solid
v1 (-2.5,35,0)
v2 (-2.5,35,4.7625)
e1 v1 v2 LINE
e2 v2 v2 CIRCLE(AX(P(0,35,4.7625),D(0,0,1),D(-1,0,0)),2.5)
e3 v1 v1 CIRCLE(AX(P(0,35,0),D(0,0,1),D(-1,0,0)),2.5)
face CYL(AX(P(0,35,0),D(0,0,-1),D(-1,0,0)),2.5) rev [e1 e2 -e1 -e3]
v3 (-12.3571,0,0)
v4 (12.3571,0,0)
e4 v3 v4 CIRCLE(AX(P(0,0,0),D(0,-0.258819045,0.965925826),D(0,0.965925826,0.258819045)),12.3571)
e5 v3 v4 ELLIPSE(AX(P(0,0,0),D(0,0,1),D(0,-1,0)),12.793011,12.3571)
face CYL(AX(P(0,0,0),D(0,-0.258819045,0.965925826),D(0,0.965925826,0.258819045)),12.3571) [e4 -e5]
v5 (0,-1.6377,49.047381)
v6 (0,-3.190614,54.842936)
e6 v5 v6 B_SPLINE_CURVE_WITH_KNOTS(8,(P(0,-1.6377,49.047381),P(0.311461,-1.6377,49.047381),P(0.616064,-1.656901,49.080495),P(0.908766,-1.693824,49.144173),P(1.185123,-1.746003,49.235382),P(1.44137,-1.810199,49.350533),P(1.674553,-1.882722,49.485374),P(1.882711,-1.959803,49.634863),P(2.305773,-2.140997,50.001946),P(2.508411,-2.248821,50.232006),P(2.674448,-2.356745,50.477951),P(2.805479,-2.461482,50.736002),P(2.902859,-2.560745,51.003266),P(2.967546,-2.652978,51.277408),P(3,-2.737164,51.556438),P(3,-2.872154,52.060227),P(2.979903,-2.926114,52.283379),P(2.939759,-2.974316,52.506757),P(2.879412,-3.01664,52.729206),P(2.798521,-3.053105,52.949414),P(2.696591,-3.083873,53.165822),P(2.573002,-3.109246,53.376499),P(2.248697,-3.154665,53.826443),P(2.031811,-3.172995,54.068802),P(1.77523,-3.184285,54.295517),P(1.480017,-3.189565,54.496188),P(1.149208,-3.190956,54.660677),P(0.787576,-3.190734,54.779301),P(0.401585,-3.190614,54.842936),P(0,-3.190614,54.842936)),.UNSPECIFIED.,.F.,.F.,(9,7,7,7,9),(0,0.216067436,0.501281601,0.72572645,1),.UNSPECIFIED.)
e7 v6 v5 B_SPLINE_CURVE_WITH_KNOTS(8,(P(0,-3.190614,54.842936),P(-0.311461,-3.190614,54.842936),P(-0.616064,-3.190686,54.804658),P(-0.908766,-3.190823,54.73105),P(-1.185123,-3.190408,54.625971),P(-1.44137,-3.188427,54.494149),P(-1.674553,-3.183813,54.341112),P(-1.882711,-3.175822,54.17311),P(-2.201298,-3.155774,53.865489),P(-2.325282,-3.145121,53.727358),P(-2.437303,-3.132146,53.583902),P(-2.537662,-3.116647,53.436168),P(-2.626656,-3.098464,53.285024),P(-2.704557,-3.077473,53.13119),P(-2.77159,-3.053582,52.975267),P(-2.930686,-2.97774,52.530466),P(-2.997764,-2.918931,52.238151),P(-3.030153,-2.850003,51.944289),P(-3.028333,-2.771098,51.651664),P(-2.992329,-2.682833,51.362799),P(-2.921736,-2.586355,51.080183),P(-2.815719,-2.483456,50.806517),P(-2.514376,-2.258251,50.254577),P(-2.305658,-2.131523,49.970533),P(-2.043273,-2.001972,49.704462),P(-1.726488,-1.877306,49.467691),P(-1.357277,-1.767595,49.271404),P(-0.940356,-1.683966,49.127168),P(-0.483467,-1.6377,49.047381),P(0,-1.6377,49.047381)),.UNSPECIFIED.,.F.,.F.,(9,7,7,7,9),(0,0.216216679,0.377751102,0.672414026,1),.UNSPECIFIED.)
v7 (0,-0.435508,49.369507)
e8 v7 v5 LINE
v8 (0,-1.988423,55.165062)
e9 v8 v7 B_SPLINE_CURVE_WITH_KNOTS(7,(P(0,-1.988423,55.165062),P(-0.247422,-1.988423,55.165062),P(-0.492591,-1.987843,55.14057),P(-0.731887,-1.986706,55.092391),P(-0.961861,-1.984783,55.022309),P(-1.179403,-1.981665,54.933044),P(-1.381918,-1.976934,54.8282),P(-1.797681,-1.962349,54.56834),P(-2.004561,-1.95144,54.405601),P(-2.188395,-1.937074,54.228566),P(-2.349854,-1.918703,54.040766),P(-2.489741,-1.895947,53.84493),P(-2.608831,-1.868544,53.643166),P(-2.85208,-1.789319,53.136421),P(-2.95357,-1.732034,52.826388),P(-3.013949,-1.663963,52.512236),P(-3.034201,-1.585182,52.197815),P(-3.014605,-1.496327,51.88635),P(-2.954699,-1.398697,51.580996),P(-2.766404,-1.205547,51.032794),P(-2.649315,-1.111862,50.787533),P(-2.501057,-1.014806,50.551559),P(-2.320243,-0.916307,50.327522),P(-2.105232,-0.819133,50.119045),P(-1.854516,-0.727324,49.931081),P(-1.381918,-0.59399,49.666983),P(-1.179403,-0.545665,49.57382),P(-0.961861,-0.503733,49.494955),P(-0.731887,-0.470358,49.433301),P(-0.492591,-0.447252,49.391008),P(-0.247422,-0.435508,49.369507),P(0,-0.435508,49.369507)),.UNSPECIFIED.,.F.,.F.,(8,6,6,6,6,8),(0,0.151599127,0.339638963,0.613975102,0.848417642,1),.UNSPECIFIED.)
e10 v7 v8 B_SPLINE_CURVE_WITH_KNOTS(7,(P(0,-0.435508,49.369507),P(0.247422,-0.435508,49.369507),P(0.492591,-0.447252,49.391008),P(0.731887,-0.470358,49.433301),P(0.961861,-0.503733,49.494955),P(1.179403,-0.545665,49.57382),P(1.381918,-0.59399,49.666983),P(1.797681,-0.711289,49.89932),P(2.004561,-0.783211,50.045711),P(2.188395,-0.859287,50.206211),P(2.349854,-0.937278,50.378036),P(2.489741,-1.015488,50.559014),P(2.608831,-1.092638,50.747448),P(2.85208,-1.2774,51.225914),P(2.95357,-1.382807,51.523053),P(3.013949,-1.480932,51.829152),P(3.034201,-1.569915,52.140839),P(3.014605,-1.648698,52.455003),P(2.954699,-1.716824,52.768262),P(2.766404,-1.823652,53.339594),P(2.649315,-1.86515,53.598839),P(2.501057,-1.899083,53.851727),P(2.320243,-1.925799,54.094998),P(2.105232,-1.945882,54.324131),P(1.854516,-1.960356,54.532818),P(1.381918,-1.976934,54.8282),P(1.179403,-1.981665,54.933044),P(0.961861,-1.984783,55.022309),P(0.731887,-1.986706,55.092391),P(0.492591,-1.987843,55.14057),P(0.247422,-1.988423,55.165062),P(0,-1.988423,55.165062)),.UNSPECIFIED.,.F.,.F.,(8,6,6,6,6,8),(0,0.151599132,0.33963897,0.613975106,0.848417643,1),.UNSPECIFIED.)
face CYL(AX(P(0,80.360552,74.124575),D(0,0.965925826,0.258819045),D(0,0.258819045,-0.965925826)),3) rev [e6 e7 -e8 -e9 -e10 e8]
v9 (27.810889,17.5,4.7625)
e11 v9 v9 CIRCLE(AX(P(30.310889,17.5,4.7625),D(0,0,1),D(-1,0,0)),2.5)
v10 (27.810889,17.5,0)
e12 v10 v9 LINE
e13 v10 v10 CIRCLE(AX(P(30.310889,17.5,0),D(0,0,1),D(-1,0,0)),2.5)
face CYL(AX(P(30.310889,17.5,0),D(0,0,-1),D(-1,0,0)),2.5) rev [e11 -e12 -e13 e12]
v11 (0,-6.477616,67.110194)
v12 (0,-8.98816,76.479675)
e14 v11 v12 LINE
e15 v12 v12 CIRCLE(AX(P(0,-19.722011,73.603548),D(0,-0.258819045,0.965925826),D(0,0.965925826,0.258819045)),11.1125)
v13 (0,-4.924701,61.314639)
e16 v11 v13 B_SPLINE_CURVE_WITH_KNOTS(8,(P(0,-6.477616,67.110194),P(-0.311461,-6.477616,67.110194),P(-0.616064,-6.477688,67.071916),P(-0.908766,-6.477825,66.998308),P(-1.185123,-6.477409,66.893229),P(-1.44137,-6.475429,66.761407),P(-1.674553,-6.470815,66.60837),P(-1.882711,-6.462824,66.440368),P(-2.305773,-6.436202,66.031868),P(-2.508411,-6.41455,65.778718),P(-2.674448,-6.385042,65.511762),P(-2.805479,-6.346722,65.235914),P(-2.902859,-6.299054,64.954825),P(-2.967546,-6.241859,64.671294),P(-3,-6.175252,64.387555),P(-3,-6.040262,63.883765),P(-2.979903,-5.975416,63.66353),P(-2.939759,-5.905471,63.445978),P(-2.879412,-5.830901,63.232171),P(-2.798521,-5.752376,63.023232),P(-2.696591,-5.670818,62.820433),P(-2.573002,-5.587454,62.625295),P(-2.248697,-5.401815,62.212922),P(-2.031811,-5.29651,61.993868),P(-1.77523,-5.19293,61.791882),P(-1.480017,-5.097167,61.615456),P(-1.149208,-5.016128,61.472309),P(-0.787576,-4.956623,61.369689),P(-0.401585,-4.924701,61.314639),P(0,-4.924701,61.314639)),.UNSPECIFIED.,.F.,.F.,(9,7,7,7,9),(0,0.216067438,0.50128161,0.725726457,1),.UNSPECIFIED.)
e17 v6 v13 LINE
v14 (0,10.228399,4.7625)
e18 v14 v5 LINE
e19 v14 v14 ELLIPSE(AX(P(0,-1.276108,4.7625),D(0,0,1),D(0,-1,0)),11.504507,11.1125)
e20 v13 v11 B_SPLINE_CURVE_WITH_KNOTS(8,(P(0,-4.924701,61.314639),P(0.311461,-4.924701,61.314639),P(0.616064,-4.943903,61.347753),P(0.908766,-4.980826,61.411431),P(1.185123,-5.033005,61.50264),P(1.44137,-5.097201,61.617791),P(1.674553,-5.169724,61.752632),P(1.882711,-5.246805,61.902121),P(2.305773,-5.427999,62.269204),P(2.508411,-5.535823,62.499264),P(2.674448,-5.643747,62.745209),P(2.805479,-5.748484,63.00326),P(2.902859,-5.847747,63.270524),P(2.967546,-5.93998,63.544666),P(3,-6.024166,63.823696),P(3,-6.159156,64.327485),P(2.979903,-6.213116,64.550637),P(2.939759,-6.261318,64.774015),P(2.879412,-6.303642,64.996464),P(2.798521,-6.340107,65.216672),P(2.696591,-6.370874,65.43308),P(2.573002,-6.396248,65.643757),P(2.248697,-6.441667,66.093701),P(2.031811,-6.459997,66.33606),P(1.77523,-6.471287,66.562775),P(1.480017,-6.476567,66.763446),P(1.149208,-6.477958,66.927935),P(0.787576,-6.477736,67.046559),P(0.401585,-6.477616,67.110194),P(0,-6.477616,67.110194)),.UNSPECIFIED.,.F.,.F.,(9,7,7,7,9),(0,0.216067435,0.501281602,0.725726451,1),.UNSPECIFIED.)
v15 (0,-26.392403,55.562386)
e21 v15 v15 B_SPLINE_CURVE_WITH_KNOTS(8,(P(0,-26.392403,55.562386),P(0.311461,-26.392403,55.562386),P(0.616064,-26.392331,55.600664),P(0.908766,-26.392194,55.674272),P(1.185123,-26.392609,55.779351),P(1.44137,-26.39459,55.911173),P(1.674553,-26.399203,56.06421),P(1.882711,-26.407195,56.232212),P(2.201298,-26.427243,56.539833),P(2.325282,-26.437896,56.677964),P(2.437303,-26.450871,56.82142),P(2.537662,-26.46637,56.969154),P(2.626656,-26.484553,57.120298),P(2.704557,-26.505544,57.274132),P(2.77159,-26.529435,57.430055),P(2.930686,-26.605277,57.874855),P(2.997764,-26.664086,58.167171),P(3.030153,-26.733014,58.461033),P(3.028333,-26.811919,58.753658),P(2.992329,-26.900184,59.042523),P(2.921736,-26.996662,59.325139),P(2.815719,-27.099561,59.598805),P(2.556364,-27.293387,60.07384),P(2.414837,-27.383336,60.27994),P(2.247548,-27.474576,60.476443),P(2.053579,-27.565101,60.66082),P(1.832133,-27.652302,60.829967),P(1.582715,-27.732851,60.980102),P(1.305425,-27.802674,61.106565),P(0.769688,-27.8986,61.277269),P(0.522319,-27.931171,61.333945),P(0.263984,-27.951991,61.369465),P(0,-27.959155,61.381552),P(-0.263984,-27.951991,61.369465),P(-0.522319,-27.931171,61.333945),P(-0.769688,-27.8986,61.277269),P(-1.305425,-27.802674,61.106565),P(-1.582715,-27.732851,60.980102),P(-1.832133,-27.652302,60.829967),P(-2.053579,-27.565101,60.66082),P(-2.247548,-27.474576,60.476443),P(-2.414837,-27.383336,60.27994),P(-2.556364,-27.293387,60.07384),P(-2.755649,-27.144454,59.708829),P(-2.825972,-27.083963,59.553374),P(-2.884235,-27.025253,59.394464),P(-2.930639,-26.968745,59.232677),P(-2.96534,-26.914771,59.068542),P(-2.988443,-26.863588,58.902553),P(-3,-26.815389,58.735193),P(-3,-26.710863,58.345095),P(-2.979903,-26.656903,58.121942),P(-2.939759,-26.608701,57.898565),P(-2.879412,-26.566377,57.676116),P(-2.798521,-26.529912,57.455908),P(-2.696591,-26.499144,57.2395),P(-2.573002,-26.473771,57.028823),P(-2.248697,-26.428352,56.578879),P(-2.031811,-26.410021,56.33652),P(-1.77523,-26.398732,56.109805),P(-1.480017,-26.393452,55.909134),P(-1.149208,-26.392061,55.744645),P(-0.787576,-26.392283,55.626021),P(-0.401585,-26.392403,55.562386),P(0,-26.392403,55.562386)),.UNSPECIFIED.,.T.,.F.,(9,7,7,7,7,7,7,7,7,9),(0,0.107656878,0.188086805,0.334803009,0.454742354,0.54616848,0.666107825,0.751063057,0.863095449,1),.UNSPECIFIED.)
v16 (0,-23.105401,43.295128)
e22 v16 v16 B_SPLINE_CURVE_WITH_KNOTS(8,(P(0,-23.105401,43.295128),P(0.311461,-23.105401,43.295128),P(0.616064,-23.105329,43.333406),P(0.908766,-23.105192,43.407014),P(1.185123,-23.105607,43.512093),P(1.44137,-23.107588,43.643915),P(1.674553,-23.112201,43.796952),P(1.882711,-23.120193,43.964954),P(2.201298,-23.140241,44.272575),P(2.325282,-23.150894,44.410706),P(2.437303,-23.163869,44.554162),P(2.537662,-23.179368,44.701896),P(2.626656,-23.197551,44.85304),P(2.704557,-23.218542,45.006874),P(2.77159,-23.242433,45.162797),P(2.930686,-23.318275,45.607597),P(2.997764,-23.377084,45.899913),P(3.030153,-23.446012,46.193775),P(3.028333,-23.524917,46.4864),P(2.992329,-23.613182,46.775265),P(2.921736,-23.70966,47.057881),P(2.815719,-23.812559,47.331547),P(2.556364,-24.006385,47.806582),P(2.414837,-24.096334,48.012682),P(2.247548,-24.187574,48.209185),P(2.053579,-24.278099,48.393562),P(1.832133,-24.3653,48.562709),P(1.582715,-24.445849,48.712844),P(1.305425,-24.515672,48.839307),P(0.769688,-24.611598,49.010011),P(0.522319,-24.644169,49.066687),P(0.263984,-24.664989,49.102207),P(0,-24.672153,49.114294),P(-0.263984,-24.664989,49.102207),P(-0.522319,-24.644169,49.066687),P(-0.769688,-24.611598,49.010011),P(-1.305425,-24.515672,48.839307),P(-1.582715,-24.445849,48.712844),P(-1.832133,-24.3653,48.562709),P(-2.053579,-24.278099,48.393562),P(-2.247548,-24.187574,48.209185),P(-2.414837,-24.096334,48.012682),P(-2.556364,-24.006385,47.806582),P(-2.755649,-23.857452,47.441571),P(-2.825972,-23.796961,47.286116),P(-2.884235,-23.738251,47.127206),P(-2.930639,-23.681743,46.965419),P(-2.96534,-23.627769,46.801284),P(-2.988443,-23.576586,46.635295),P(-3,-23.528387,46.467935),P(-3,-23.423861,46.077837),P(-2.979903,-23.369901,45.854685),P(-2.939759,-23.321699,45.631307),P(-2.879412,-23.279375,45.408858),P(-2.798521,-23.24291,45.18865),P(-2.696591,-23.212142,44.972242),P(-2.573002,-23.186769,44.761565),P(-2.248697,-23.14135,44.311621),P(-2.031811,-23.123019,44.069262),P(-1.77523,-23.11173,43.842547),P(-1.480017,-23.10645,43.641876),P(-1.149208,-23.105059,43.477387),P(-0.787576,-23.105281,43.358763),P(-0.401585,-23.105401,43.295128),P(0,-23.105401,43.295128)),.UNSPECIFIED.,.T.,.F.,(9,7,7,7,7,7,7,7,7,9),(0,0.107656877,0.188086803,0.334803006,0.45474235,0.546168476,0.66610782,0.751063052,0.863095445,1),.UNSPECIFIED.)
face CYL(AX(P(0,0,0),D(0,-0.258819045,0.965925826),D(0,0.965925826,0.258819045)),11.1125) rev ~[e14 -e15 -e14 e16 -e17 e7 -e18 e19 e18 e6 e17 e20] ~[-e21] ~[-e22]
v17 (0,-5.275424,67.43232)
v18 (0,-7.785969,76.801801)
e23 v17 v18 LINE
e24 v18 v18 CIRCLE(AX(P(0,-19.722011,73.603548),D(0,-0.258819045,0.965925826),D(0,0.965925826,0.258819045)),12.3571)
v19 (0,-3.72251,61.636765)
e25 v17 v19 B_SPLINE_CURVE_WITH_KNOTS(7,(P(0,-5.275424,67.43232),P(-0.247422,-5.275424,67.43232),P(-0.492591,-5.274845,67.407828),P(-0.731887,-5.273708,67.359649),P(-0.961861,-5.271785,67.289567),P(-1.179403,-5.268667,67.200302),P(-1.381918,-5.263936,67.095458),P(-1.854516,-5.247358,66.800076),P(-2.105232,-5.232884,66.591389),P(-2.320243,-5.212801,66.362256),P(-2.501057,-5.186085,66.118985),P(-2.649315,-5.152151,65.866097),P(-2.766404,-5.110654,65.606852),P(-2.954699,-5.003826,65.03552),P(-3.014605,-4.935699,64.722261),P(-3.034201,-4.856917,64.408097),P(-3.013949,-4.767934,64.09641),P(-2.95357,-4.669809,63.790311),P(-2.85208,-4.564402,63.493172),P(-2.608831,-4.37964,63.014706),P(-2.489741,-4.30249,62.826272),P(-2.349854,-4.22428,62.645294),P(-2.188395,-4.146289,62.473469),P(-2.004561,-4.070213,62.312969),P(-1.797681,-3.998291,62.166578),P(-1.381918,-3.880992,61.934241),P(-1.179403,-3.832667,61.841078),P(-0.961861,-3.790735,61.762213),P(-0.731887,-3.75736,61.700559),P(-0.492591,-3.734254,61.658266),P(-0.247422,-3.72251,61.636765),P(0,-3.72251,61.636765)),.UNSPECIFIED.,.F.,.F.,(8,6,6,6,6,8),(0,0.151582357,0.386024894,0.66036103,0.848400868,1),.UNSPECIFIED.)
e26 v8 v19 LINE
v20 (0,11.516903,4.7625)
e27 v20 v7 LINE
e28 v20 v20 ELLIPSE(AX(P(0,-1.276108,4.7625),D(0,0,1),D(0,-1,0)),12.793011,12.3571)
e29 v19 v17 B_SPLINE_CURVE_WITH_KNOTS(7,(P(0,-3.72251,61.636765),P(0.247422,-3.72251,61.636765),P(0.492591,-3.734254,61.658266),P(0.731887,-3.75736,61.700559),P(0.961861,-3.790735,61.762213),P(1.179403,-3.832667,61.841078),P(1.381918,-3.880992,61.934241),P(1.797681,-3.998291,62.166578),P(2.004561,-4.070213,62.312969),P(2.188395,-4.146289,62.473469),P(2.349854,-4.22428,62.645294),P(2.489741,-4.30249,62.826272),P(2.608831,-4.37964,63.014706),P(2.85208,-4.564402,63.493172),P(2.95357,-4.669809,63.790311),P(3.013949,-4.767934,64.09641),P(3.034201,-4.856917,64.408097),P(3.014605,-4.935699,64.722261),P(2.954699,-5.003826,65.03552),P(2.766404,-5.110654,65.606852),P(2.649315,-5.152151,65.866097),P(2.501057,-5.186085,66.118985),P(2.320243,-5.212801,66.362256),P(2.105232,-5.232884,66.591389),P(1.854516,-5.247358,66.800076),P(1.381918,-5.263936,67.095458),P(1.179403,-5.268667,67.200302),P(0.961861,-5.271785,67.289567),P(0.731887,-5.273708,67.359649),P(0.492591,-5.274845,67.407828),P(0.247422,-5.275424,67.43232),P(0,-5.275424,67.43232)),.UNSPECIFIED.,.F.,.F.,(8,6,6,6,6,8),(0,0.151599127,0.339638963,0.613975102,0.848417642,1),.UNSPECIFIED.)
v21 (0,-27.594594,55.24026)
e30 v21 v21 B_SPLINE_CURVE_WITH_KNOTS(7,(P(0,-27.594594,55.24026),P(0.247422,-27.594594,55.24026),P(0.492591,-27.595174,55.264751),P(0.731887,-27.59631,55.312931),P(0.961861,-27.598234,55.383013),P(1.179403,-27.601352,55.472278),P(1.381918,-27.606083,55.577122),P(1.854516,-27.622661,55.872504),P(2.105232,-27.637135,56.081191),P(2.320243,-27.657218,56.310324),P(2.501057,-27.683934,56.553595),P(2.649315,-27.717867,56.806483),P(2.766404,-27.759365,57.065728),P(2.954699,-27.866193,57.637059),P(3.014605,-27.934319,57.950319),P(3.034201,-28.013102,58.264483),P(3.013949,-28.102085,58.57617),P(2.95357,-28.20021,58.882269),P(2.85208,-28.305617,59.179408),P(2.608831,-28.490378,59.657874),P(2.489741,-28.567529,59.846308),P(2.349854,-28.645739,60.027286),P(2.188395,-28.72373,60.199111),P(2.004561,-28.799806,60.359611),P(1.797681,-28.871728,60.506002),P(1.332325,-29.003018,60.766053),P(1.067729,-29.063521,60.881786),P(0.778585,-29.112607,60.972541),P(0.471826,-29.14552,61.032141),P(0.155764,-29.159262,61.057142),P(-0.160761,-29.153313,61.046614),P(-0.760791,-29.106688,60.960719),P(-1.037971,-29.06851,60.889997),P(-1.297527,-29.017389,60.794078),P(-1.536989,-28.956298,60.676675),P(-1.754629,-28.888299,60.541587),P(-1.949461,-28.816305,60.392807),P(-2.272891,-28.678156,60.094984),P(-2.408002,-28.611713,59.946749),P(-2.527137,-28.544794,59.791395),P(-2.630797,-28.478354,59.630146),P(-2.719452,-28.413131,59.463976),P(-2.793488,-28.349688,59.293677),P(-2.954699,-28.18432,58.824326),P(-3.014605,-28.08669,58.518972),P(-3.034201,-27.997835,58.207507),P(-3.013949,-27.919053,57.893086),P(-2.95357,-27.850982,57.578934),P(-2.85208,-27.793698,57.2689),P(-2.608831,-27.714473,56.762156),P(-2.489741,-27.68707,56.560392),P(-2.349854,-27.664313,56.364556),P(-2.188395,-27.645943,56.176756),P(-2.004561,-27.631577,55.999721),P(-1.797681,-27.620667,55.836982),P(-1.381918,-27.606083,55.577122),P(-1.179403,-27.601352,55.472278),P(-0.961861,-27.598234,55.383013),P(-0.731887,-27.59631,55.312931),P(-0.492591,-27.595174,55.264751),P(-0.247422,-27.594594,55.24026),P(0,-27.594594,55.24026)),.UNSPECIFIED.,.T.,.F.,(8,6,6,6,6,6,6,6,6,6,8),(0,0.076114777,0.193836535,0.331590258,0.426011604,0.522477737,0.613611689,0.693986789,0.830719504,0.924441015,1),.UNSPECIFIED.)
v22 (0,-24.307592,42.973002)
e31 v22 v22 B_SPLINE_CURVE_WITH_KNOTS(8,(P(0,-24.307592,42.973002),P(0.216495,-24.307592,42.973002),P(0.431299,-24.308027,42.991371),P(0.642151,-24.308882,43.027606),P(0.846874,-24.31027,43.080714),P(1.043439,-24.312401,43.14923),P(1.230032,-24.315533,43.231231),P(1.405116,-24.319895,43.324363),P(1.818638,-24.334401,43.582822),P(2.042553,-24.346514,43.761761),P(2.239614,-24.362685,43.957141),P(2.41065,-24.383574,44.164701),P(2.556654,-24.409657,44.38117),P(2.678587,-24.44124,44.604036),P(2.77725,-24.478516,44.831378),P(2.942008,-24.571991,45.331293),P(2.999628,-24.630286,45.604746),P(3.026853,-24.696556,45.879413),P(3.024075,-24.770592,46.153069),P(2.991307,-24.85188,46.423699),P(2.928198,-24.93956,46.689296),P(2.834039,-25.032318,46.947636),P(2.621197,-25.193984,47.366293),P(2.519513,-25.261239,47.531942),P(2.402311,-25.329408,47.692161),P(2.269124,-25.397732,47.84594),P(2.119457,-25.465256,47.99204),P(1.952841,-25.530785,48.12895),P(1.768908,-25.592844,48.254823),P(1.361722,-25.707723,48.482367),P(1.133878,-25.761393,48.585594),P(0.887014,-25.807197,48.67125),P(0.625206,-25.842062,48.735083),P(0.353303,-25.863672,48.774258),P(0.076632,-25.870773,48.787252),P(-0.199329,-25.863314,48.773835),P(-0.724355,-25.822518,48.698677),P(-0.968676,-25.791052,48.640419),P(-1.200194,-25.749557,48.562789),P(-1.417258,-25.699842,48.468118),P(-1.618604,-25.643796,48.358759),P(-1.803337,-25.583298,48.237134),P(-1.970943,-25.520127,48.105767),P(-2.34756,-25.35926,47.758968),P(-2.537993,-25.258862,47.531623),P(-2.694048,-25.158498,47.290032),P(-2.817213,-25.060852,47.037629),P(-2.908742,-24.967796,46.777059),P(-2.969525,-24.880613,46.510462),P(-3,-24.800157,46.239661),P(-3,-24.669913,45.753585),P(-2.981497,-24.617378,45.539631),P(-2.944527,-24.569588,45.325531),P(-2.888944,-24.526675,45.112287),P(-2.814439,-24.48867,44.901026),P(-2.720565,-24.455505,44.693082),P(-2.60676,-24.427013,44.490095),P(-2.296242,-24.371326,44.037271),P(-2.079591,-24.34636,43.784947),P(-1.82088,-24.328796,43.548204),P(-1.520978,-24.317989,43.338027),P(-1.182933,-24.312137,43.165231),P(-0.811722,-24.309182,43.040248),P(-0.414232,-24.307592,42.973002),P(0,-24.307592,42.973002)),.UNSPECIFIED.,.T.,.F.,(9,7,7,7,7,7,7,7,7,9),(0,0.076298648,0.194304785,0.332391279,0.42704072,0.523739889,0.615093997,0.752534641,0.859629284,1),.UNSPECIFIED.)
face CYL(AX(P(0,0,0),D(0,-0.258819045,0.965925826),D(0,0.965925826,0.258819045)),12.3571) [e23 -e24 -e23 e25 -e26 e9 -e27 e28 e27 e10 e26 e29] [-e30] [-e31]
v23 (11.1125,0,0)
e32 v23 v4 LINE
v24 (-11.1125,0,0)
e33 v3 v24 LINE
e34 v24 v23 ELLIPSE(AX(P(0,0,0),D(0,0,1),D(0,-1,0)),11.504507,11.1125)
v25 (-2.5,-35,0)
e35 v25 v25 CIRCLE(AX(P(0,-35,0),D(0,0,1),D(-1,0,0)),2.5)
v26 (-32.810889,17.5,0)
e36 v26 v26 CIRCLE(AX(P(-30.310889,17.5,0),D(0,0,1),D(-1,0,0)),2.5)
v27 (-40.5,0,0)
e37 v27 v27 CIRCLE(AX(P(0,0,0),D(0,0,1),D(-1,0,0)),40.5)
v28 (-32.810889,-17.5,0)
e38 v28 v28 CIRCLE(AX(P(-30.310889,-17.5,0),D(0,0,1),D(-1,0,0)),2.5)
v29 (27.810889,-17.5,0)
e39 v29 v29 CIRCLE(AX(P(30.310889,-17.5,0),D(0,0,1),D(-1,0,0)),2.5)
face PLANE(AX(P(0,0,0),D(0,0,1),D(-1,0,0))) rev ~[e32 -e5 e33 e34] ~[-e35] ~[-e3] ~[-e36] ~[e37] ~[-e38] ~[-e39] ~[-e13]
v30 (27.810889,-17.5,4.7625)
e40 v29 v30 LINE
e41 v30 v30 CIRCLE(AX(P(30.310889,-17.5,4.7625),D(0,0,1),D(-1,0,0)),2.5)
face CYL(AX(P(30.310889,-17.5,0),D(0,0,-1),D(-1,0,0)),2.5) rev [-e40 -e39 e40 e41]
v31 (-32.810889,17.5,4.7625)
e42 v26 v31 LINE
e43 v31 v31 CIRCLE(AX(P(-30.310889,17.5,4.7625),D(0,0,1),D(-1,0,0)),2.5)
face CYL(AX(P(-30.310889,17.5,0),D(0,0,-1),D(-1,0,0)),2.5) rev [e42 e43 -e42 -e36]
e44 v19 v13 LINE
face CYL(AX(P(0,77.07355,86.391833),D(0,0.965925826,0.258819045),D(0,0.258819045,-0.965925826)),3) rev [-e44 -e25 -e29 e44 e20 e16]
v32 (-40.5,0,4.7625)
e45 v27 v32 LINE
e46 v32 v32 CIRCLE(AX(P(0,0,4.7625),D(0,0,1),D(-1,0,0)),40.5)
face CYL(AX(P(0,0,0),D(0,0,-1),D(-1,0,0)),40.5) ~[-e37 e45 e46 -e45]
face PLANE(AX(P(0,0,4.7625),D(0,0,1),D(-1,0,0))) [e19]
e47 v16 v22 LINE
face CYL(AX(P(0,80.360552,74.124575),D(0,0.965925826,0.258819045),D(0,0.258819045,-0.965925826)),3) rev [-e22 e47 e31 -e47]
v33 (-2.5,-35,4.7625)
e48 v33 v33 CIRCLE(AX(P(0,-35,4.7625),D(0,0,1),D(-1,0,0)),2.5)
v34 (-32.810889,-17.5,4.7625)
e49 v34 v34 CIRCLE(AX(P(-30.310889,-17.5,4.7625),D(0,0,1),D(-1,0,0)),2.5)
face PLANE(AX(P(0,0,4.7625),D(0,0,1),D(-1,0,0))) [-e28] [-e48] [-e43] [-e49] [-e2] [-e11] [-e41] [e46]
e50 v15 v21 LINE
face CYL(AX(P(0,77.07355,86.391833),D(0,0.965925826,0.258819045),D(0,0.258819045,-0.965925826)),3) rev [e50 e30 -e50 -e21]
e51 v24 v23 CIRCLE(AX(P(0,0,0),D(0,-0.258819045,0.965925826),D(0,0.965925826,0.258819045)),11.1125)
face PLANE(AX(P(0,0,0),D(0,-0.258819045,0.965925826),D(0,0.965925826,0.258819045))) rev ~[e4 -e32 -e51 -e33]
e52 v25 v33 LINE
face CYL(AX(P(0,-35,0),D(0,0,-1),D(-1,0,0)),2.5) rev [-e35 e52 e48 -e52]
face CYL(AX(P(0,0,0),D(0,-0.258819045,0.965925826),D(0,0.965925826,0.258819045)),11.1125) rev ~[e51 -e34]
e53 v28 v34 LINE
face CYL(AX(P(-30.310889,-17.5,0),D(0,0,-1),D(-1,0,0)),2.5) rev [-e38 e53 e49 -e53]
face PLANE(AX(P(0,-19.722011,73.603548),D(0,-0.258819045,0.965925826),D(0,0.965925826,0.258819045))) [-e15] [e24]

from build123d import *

# Parameters (mm, degrees)
SKETCH1_R               = 40.5
SKETCH1_R_2             = 2.5
BOSS_EXTRUDE1_DEPTH     = 4.7625
SWEEP_THIN1_PROFILE_R   = 12.3571
SWEEP_THIN1_PROFILE_R_2 = 11.1125
CUT_EXTRUDE2_DEPTH      = 96.807184511
CUT_EXTRUDE2_DEPTH_BACK = 96.807184511
SKETCH18_R              = 3


with BuildPart() as part:
    # Sketch1 → Boss-Extrude1 (new body)
    with BuildSketch(Plane.XY):
        with Locations(Location((0, 0, 0), (0, 0, 180))):
            Circle(SKETCH1_R)
        with Locations(Location((-30.310889132, -17.5, 0), (0, 0, 180))):
            Circle(SKETCH1_R_2, mode=Mode.SUBTRACT)
        with Locations(Location((0, -35, 0), (0, 0, 180))):
            Circle(SKETCH1_R_2, mode=Mode.SUBTRACT)
        with Locations(Location((30.310889132, -17.5, 0), (0, 0, 180))):
            Circle(SKETCH1_R_2, mode=Mode.SUBTRACT)
        with Locations(Location((30.310889132, 17.5, 0), (0, 0, 180))):
            Circle(SKETCH1_R_2, mode=Mode.SUBTRACT)
        with Locations(Location((0, 35, 0), (0, 0, 180))):
            Circle(SKETCH1_R_2, mode=Mode.SUBTRACT)
        with Locations(Location((-30.310889132, 17.5, 0), (0, 0, 180))):
            Circle(SKETCH1_R_2, mode=Mode.SUBTRACT)
    extrude(amount=BOSS_EXTRUDE1_DEPTH)

    # Sweep-Thin1: sweep along a path in Sketch6
    with BuildLine(Plane(origin=(0, 0, 0), x_dir=(0, 0, -1), z_dir=(1, 0, 0))) as sweep_thin1_path:
        Line((0, 0), (-73.603547963, -19.722011237))
    # Sweep-Thin1 profile (on start of the path) → Sweep-Thin1 (sweep)
    with BuildSketch(Plane(origin=(0, 0, 0), x_dir=(0, 0.965925826289069, 0.25881904510251813), z_dir=(0, -0.25881904510251813, 0.965925826289069))):
        Circle(SWEEP_THIN1_PROFILE_R)
        Circle(SWEEP_THIN1_PROFILE_R_2, mode=Mode.SUBTRACT)
    sweep(path=sweep_thin1_path.line)

    # Sketch18 → Cut-Extrude2 (cut, two sides: drawn at the far end of the back side and taken through both)
    with BuildSketch(Plane(origin=(0, 0, 0), x_dir=(-1, 0, 0), z_dir=(0, -0.9659258262890691, -0.25881904510251813)).offset(-CUT_EXTRUDE2_DEPTH_BACK)):
        with Locations(Location((0, -63.5, 0), (0, 0, 90))):
            Circle(SKETCH18_R)
        with Locations(Location((0, -50.8, 0), (0, 0, 90))):
            Circle(SKETCH18_R)
    extrude(amount=CUT_EXTRUDE2_DEPTH + CUT_EXTRUDE2_DEPTH_BACK, mode=Mode.SUBTRACT)


solid = part.part
